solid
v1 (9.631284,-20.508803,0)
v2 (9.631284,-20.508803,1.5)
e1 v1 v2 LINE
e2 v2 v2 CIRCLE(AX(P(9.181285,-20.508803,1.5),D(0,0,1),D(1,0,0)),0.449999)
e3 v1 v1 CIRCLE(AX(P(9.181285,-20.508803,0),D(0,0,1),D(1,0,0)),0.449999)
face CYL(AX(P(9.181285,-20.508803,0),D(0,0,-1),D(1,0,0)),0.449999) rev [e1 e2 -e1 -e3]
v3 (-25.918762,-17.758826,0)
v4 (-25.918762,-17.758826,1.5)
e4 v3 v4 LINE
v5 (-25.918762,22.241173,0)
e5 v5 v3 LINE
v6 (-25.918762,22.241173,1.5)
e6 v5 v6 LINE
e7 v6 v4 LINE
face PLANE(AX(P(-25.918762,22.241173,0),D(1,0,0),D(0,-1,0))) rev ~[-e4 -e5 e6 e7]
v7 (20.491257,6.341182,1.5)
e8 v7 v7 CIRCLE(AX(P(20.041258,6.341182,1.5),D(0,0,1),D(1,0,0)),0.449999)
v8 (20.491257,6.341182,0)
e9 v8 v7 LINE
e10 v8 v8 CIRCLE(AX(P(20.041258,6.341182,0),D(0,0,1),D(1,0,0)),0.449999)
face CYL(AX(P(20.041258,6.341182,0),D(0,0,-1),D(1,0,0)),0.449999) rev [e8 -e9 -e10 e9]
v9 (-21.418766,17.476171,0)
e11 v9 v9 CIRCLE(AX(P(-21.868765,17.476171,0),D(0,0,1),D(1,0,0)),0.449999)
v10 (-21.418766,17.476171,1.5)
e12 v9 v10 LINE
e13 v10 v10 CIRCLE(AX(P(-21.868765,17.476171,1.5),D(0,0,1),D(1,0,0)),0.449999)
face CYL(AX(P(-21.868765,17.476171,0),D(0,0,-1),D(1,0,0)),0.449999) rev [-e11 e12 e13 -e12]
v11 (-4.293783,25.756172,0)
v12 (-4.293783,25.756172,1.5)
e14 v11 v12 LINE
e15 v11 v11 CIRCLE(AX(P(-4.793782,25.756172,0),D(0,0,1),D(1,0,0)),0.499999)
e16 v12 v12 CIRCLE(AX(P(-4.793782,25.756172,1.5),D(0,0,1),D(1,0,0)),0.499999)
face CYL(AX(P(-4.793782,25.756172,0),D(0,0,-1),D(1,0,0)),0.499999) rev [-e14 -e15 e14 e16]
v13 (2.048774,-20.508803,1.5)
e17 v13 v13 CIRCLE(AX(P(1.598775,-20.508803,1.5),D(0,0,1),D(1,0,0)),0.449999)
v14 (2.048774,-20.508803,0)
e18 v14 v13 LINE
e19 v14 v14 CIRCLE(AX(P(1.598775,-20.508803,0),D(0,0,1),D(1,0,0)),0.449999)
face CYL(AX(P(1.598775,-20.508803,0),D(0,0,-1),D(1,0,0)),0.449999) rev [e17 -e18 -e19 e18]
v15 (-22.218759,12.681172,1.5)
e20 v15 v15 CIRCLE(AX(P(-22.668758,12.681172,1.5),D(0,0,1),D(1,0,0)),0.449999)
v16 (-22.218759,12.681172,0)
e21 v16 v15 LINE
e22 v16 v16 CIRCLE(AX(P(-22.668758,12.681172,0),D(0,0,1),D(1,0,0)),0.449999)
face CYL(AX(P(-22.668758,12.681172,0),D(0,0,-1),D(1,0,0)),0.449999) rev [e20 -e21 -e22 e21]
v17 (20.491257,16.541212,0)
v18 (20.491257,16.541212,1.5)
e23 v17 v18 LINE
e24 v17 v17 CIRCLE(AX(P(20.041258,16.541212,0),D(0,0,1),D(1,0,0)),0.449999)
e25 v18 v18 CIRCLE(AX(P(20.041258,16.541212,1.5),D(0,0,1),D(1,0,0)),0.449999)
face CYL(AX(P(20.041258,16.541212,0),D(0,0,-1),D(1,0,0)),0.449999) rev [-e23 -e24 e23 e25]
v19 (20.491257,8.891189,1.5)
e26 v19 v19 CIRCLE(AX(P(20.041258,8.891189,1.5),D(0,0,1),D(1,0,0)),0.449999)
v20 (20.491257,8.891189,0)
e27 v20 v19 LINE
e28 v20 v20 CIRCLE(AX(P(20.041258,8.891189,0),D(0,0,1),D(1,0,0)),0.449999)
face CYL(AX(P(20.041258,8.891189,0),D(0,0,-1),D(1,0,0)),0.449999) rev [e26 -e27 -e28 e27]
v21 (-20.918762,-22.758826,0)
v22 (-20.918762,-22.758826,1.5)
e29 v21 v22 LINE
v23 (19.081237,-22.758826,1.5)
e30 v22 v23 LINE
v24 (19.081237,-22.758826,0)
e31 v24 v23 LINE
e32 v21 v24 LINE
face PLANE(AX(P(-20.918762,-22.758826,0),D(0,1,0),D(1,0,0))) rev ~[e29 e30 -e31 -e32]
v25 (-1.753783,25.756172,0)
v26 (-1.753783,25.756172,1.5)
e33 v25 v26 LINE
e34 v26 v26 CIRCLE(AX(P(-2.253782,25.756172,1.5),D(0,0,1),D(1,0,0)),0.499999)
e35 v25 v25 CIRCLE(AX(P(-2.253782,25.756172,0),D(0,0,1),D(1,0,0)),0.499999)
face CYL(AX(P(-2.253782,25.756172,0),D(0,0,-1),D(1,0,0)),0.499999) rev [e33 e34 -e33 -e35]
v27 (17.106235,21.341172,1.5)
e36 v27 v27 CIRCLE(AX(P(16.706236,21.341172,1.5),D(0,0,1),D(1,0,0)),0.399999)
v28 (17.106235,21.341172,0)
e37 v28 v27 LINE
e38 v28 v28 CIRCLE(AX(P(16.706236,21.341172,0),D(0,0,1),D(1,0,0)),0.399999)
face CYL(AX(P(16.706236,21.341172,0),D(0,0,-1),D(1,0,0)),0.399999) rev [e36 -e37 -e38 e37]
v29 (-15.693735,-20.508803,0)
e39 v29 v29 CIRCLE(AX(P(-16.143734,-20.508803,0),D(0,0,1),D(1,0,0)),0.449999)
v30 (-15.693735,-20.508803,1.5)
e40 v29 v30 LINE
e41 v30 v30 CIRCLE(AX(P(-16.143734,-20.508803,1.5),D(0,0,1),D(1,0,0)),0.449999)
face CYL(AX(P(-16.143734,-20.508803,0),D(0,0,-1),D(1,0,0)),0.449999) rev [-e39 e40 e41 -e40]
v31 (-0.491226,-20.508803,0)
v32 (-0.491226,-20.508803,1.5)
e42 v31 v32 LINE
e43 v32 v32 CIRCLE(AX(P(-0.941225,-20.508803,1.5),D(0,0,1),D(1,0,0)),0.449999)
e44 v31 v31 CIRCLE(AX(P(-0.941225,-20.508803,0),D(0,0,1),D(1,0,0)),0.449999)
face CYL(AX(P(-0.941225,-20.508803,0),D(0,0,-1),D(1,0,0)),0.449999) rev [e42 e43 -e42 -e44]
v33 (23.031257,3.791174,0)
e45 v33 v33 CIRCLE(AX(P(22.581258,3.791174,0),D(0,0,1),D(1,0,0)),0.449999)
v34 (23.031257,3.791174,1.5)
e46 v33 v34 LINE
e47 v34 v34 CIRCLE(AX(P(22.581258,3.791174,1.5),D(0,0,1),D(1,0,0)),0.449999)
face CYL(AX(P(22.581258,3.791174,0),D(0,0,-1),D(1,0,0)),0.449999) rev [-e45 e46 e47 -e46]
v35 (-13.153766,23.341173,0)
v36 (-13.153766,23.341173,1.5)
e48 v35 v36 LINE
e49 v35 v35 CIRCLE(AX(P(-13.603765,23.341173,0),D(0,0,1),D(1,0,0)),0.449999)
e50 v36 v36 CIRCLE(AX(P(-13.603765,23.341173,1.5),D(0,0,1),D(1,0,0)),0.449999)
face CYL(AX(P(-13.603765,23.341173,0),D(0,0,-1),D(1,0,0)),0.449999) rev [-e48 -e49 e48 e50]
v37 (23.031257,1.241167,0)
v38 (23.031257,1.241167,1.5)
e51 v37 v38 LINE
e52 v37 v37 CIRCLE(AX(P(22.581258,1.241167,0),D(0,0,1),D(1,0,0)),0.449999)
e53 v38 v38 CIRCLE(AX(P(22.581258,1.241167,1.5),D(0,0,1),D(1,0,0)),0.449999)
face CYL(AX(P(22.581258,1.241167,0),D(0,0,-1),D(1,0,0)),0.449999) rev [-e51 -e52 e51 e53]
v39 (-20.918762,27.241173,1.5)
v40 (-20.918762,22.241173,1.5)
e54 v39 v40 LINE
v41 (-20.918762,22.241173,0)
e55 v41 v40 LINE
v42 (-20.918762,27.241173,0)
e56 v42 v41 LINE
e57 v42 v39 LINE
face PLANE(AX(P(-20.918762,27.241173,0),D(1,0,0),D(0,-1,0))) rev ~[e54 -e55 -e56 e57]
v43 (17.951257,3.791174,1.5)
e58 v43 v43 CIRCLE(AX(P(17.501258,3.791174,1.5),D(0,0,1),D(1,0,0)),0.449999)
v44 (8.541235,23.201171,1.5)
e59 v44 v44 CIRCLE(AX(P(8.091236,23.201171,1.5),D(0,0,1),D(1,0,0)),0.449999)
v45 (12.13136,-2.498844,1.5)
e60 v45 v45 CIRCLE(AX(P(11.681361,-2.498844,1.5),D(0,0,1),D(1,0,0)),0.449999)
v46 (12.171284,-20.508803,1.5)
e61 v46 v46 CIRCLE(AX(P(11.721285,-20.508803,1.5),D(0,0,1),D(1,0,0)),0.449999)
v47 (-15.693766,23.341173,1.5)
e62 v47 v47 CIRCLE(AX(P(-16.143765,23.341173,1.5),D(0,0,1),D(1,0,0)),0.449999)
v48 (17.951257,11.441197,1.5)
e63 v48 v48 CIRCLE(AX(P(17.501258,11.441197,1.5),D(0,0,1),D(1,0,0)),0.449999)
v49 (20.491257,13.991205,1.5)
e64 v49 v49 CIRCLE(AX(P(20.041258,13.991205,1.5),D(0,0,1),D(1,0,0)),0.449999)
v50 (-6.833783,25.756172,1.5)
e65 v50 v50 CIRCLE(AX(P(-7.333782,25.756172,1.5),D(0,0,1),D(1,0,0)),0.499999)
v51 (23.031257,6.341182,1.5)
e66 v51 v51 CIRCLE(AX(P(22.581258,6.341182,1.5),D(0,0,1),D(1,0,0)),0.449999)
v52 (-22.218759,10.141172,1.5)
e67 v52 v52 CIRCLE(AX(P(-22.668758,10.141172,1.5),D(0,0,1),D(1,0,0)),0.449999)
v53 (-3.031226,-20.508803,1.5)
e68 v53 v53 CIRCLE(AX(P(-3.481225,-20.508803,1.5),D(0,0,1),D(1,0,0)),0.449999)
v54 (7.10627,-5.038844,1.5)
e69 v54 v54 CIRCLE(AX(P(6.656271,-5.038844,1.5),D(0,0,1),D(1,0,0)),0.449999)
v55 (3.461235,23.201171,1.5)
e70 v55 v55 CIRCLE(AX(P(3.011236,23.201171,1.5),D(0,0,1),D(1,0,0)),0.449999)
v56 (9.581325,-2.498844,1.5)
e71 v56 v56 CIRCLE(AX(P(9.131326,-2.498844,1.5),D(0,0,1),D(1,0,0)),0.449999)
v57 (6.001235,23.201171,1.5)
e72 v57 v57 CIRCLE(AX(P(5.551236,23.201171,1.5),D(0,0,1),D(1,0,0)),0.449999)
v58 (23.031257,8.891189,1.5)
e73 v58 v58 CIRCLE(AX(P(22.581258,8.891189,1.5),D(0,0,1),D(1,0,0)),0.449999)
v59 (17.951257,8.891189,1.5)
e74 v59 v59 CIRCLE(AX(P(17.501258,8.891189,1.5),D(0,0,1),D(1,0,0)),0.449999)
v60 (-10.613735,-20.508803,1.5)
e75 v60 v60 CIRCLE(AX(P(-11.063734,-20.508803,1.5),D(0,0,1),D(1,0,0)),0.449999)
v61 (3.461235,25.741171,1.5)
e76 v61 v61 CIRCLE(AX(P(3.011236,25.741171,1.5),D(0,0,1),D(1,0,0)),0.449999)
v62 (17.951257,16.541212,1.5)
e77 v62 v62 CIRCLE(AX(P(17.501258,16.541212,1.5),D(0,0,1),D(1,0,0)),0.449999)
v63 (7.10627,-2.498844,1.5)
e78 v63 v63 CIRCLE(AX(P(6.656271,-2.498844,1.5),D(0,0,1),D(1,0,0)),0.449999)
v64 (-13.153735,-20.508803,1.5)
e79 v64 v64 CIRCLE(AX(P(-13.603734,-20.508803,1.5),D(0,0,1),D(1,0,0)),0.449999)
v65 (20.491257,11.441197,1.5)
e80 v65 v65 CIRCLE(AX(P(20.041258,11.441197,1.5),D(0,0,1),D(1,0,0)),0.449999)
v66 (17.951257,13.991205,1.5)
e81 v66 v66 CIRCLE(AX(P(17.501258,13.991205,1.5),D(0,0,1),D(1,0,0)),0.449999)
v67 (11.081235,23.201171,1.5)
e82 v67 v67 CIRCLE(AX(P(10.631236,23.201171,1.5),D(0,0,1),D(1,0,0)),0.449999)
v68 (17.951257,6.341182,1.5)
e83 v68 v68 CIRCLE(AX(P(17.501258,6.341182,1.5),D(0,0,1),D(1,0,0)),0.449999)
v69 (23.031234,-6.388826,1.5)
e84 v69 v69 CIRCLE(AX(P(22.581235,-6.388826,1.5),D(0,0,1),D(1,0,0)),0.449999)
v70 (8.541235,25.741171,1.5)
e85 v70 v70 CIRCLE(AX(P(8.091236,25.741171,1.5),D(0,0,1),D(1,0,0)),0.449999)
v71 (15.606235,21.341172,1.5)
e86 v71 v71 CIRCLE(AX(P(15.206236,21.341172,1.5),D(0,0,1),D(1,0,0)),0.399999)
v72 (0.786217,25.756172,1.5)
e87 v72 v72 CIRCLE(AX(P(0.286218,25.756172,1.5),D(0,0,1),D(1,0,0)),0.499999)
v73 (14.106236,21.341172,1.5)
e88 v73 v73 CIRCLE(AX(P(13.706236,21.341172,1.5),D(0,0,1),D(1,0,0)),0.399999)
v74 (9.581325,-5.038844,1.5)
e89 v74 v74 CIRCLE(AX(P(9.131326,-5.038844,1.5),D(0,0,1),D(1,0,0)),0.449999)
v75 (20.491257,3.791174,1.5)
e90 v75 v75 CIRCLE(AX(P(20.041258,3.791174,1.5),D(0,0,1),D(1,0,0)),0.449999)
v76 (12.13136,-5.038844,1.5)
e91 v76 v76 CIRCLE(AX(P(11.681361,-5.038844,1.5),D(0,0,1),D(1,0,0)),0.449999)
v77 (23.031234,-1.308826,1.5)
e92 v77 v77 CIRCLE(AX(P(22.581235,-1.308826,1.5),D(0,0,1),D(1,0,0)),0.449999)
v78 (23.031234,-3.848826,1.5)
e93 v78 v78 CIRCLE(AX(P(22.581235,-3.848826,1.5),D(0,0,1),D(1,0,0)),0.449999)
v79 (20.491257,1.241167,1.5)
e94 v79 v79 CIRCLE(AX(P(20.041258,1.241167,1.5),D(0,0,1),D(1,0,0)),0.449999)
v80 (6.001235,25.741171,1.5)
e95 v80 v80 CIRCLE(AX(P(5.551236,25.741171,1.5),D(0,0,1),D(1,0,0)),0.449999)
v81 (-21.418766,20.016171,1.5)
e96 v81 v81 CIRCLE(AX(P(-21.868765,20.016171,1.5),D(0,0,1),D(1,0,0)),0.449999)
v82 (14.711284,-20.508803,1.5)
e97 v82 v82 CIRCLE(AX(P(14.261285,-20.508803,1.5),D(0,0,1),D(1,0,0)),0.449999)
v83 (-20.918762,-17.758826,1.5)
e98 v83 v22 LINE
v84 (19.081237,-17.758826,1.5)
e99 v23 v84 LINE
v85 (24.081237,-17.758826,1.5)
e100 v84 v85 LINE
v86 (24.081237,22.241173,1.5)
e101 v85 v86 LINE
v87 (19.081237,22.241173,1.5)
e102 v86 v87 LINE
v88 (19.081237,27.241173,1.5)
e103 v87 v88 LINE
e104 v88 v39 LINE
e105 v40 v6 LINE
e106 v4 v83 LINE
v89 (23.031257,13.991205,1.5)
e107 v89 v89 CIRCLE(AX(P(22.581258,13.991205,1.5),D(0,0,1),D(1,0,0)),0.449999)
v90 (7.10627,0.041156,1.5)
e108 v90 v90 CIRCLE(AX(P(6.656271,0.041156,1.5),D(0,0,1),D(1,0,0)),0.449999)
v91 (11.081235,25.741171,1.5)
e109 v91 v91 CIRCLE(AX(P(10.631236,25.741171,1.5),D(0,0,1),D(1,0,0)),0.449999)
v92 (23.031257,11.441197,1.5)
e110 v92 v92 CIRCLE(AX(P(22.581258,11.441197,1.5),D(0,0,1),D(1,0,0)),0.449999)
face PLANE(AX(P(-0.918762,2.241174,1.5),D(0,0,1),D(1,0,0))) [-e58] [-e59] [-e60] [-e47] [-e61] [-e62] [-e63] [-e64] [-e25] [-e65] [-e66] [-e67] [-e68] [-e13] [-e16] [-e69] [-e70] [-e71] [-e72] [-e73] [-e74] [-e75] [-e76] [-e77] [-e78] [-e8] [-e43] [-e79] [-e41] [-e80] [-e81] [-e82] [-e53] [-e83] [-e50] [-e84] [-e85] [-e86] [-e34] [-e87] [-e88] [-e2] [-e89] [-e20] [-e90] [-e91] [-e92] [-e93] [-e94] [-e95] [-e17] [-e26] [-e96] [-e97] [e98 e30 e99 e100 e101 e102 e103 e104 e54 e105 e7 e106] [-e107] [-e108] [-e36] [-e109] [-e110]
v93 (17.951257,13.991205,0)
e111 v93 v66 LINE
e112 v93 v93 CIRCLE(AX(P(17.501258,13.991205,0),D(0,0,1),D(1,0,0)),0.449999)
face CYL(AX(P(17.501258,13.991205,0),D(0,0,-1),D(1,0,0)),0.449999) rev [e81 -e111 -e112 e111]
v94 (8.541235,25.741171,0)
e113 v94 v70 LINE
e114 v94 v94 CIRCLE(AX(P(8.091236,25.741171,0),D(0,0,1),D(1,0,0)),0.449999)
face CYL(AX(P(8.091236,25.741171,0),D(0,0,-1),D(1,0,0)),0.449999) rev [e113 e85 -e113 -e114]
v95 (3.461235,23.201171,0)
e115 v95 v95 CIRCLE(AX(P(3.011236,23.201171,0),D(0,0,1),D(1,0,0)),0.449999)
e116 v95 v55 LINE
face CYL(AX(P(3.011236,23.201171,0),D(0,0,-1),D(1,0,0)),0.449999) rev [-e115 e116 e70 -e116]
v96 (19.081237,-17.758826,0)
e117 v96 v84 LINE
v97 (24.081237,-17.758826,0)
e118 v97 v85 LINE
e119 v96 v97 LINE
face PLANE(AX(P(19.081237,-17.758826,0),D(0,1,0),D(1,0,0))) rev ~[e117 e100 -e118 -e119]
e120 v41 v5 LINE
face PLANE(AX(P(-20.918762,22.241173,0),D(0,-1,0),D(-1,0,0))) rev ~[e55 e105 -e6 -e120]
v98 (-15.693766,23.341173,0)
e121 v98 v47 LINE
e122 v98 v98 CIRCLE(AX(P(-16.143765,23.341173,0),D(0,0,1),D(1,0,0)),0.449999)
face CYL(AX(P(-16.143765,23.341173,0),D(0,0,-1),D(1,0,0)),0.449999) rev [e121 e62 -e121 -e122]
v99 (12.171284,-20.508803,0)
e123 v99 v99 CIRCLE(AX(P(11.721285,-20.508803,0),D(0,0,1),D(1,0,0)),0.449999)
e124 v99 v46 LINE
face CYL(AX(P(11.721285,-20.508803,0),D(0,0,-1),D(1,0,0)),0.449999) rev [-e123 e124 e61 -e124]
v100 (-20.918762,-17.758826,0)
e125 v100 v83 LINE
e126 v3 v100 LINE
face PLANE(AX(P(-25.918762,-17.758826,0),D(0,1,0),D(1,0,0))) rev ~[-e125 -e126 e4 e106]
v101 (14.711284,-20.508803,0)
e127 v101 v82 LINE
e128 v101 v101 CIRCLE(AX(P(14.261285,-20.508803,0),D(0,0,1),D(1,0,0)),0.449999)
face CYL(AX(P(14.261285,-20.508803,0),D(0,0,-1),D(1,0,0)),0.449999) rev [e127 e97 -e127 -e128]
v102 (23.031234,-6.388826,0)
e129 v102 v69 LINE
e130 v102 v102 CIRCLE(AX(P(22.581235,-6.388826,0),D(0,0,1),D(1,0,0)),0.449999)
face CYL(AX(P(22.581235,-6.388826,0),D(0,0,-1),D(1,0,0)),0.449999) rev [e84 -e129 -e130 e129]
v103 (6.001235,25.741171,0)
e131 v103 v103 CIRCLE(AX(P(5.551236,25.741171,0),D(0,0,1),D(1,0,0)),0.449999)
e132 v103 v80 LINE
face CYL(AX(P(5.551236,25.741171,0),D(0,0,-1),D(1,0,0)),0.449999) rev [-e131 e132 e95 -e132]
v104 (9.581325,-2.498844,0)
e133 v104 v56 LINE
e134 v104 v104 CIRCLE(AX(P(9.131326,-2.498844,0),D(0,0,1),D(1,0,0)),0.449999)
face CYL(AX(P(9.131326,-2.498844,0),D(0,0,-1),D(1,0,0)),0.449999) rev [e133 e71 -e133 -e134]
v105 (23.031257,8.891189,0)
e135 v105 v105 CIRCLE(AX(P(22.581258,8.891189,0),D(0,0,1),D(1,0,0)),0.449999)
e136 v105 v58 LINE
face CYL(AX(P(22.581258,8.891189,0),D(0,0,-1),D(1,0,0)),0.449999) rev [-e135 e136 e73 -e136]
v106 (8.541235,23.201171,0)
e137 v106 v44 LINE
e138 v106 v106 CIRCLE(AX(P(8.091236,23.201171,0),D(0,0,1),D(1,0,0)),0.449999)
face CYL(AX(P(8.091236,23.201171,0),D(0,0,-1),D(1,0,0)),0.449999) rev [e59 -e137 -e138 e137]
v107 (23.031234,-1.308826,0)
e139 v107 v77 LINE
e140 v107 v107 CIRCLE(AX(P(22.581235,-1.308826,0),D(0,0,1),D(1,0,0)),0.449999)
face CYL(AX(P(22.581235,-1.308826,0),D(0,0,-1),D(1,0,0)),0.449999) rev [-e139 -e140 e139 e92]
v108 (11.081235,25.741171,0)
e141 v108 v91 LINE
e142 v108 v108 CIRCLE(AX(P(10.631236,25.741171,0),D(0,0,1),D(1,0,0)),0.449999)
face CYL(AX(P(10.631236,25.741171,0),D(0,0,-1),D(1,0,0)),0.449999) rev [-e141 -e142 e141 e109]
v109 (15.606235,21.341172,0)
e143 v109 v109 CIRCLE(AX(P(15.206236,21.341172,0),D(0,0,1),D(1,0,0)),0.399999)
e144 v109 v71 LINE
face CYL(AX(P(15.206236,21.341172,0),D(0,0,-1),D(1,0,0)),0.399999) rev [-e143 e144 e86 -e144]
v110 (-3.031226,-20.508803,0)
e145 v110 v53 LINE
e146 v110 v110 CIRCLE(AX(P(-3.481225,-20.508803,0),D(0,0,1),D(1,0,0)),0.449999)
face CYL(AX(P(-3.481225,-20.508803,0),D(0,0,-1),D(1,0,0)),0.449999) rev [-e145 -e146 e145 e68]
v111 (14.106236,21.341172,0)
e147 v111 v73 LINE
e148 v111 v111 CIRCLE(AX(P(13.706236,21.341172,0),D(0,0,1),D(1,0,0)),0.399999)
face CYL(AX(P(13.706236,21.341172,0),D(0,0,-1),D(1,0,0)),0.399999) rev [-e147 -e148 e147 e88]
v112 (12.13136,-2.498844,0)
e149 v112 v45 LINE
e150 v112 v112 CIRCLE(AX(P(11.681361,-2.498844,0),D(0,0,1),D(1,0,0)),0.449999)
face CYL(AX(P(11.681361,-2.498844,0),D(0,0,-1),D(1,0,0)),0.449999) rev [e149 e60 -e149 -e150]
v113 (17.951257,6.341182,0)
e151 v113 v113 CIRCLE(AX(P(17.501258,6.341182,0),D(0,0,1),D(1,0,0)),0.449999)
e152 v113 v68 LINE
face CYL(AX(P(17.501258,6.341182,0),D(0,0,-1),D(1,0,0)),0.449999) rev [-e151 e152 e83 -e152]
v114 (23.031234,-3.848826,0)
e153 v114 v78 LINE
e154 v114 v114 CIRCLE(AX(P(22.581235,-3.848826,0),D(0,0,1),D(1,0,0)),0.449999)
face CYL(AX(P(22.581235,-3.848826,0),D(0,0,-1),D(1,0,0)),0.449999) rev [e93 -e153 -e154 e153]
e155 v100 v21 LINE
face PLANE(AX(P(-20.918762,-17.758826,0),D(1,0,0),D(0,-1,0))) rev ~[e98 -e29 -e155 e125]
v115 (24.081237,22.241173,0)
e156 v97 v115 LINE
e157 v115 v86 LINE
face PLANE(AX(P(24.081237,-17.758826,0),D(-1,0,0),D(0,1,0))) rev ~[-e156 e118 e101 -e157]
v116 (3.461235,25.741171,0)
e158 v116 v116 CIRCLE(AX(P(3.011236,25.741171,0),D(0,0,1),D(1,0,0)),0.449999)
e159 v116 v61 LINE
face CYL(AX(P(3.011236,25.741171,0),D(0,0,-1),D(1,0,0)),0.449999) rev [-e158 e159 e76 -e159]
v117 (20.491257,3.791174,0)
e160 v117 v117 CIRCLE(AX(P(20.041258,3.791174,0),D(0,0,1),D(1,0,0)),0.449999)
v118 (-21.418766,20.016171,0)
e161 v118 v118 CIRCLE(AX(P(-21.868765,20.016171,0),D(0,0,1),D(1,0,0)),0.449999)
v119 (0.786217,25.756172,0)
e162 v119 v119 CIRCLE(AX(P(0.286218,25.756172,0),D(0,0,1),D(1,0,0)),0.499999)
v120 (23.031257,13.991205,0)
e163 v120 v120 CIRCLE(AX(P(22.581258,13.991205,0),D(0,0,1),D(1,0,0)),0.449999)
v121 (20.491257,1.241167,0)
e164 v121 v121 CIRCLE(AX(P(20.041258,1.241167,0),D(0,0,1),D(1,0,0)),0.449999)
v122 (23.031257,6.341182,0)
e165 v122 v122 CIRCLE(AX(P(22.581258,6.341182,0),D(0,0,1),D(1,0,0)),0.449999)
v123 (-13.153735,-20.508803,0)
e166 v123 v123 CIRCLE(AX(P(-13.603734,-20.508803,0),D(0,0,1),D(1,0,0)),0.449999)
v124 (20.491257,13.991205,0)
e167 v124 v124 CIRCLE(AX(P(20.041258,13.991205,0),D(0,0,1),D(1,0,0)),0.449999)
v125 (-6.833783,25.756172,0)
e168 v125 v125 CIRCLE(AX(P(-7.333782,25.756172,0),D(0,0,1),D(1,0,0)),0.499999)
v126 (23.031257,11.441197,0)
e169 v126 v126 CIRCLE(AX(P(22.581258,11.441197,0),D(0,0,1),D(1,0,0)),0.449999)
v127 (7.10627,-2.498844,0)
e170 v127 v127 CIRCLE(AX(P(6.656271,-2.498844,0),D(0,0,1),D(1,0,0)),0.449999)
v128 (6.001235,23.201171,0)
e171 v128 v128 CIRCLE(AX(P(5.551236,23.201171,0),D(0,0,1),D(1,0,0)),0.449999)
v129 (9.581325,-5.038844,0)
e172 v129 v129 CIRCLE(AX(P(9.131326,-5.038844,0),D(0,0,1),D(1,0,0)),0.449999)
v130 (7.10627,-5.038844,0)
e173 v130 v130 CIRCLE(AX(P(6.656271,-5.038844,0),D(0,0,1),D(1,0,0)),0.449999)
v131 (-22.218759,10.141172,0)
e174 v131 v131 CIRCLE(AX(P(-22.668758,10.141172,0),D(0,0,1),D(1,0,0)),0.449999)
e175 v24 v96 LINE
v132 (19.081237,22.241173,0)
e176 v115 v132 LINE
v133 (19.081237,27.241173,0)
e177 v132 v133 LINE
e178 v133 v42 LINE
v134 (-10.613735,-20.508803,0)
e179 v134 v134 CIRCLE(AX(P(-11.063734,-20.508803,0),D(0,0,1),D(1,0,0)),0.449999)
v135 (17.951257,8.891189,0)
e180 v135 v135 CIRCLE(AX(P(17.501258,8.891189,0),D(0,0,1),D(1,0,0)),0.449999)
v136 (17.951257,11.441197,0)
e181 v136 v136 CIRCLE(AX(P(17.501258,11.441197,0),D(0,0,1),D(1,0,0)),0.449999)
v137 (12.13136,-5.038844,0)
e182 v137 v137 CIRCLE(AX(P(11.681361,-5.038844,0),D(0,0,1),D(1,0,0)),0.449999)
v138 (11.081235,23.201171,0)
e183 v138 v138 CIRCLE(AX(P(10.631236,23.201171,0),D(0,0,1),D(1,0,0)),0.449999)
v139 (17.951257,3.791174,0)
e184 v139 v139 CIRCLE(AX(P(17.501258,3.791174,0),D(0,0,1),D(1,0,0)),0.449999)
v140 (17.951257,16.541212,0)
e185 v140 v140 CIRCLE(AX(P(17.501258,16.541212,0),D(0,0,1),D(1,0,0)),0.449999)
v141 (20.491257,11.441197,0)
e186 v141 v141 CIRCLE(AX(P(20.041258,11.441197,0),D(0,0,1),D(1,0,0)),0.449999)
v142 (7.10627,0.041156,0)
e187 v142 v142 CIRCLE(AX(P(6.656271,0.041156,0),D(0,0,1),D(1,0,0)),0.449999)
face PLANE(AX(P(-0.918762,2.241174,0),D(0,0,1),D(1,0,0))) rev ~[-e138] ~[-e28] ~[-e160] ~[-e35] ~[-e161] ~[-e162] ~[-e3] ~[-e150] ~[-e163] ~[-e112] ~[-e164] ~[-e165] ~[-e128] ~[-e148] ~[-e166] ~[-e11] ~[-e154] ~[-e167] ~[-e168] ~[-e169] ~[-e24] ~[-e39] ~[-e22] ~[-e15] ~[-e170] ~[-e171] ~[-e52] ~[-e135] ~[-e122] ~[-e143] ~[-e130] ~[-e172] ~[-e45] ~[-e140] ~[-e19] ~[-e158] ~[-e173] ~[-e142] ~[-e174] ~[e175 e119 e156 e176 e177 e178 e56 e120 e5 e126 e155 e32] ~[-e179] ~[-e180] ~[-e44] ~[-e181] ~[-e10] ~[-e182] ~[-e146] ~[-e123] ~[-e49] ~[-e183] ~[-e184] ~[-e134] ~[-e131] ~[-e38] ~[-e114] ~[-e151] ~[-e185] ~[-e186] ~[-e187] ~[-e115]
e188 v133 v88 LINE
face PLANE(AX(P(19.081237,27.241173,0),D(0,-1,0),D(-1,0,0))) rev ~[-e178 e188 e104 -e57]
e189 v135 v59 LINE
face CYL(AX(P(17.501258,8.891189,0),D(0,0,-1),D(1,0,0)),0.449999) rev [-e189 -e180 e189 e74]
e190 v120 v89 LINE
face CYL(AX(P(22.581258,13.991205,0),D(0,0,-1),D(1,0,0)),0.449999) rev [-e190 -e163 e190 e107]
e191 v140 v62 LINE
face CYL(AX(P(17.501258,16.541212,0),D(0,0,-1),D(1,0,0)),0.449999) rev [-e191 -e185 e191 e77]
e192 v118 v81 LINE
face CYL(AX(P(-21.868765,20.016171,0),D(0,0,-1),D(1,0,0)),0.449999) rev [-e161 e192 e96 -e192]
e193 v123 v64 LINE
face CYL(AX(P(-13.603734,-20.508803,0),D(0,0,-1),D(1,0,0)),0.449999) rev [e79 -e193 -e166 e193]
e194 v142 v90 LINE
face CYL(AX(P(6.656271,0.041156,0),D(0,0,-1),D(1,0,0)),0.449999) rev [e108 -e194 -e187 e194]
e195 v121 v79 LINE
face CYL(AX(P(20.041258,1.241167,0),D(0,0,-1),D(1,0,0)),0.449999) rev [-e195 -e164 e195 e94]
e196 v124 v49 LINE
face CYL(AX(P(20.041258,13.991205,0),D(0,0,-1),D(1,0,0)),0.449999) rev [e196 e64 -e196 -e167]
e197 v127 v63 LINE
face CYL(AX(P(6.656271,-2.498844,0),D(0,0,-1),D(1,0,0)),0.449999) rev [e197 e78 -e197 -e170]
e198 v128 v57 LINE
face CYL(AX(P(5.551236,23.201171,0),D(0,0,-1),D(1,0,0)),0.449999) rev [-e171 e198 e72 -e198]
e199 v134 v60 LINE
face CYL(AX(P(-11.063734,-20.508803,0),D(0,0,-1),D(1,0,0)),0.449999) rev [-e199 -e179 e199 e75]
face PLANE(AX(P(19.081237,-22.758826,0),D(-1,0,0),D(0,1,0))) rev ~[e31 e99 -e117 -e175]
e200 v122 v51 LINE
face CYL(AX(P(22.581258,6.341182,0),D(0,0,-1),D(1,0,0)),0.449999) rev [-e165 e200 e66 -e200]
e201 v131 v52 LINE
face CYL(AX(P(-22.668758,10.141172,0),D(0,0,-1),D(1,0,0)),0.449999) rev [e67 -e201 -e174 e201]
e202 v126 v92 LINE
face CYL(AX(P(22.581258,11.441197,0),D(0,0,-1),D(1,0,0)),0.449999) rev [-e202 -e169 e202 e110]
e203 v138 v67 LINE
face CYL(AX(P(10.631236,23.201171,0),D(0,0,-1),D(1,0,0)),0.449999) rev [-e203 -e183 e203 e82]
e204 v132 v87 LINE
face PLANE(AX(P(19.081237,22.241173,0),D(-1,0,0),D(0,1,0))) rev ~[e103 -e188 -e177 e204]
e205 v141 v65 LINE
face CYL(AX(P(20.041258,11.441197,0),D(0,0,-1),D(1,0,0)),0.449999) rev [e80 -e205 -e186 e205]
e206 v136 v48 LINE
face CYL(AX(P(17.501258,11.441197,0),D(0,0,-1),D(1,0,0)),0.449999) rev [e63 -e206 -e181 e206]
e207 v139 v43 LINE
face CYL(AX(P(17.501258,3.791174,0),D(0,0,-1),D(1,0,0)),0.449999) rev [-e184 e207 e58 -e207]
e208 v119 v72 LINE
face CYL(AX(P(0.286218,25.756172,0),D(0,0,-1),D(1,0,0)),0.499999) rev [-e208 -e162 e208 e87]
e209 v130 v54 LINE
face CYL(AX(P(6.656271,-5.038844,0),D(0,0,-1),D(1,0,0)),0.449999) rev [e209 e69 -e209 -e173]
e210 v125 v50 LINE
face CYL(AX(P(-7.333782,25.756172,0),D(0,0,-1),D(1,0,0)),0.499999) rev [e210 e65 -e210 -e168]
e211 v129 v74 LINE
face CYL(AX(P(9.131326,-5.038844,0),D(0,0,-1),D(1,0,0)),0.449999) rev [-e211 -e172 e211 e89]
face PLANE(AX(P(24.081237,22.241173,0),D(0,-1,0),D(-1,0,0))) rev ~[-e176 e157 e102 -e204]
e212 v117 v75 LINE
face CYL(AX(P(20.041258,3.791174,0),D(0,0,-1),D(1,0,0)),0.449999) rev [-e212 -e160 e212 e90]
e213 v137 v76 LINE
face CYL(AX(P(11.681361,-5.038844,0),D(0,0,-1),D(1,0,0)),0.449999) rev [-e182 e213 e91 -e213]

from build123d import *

# Parameters (mm, degrees)
SKETCH_3_R      = 0.4499991
SKETCH_3_R_2    = 0.3999992
SKETCH_3_R_3    = 0.499999
EXTRUDE_1_DEPTH = 1.5


with BuildPart() as part:
    # Эскиз3 → Бобышка-Вытянуть1 (new body)
    with BuildSketch(Plane.XY):
        Polygon((24.081237265, -17.758826004), (24.081237265, 22.241173056), (19.081237265, 22.241173056), (19.081237265, 27.241173056), (-20.918761795, 27.241173056), (-20.918761795, 22.241173056), (-25.918761795, 22.241173056), (-25.918761795, -17.758826004), (-20.918761795, -17.758826004), (-20.918761795, -22.758826004), (19.081237265, -22.758826004), (19.081237265, -17.758826004), align=None)
        with Locations((22.581258045, 1.241166636)):
            Circle(SKETCH_3_R, mode=Mode.SUBTRACT)
        with Locations((22.581258045, 3.791174236)):
            Circle(SKETCH_3_R, mode=Mode.SUBTRACT)
        with Locations((22.581258045, 6.341181836)):
            Circle(SKETCH_3_R, mode=Mode.SUBTRACT)
        with Locations((22.581258045, 8.891189436)):
            Circle(SKETCH_3_R, mode=Mode.SUBTRACT)
        with Locations((22.581258045, 11.441197036)):
            Circle(SKETCH_3_R, mode=Mode.SUBTRACT)
        with Locations((22.581258045, 13.991204636)):
            Circle(SKETCH_3_R, mode=Mode.SUBTRACT)
        with Locations((17.501258045, 3.791174236)):
            Circle(SKETCH_3_R, mode=Mode.SUBTRACT)
        with Locations((17.501258045, 6.341181836)):
            Circle(SKETCH_3_R, mode=Mode.SUBTRACT)
        with Locations((17.501258045, 8.891189436)):
            Circle(SKETCH_3_R, mode=Mode.SUBTRACT)
        with Locations((17.501258045, 11.441197036)):
            Circle(SKETCH_3_R, mode=Mode.SUBTRACT)
        with Locations((17.501258045, 13.991204636)):
            Circle(SKETCH_3_R, mode=Mode.SUBTRACT)
        with Locations((17.501258045, 16.541212236)):
            Circle(SKETCH_3_R, mode=Mode.SUBTRACT)
        with Locations((20.041258045, 16.541212236)):
            Circle(SKETCH_3_R, mode=Mode.SUBTRACT)
        with Locations((20.041258045, 13.991204636)):
            Circle(SKETCH_3_R, mode=Mode.SUBTRACT)
        with Locations((20.041258045, 11.441197036)):
            Circle(SKETCH_3_R, mode=Mode.SUBTRACT)
        with Locations((20.041258045, 8.891189436)):
            Circle(SKETCH_3_R, mode=Mode.SUBTRACT)
        with Locations((20.041258045, 6.341181836)):
            Circle(SKETCH_3_R, mode=Mode.SUBTRACT)
        with Locations((20.041258045, 3.791174236)):
            Circle(SKETCH_3_R, mode=Mode.SUBTRACT)
        with Locations((20.041258045, 1.241166636)):
            Circle(SKETCH_3_R, mode=Mode.SUBTRACT)
        with Locations((22.581235185, -6.388825724)):
            Circle(SKETCH_3_R, mode=Mode.SUBTRACT)
        with Locations((22.581235185, -3.848825724)):
            Circle(SKETCH_3_R, mode=Mode.SUBTRACT)
        with Locations((22.581235185, -1.308825724)):
            Circle(SKETCH_3_R, mode=Mode.SUBTRACT)
        with Locations((3.011236225, 25.741170976)):
            Circle(SKETCH_3_R, mode=Mode.SUBTRACT)
        with Locations((5.551236225, 23.201170976)):
            Circle(SKETCH_3_R, mode=Mode.SUBTRACT)
        with Locations((5.551236225, 25.741170976)):
            Circle(SKETCH_3_R, mode=Mode.SUBTRACT)
        with Locations((8.091236225, 23.201170976)):
            Circle(SKETCH_3_R, mode=Mode.SUBTRACT)
        with Locations((8.091236225, 25.741170976)):
            Circle(SKETCH_3_R, mode=Mode.SUBTRACT)
        with Locations((10.631236225, 25.741170976)):
            Circle(SKETCH_3_R, mode=Mode.SUBTRACT)
        with Locations((10.631236225, 23.201170976)):
            Circle(SKETCH_3_R, mode=Mode.SUBTRACT)
        with Locations((13.706236425, 21.341172156)):
            Circle(SKETCH_3_R_2, mode=Mode.SUBTRACT)
        with Locations((15.206235965, 21.341172156)):
            Circle(SKETCH_3_R_2, mode=Mode.SUBTRACT)
        with Locations((16.706235505, 21.341172156)):
            Circle(SKETCH_3_R_2, mode=Mode.SUBTRACT)
        with Locations((6.656270845, 0.041156336)):
            Circle(SKETCH_3_R, mode=Mode.SUBTRACT)
        with Locations((6.656270845, -5.038843664)):
            Circle(SKETCH_3_R, mode=Mode.SUBTRACT)
        with Locations((6.656270845, -2.498843664)):
            Circle(SKETCH_3_R, mode=Mode.SUBTRACT)
        with Locations((9.131325585, -2.498843664)):
            Circle(SKETCH_3_R, mode=Mode.SUBTRACT)
        with Locations((9.131325585, -5.038843664)):
            Circle(SKETCH_3_R, mode=Mode.SUBTRACT)
        with Locations((11.681361125, -2.498843664)):
            Circle(SKETCH_3_R, mode=Mode.SUBTRACT)
        with Locations((14.261284845, -20.508802564)):
            Circle(SKETCH_3_R, mode=Mode.SUBTRACT)
        with Locations((11.721284845, -20.508802564)):
            Circle(SKETCH_3_R, mode=Mode.SUBTRACT)
        with Locations((9.181284845, -20.508802564)):
            Circle(SKETCH_3_R, mode=Mode.SUBTRACT)
        with Locations((1.598775245, -20.508802564)):
            Circle(SKETCH_3_R, mode=Mode.SUBTRACT)
        with Locations((-0.941224755, -20.508802564)):
            Circle(SKETCH_3_R, mode=Mode.SUBTRACT)
        with Locations((-3.481224755, -20.508802564)):
            Circle(SKETCH_3_R, mode=Mode.SUBTRACT)
        with Locations((-11.063734355, -20.508802564)):
            Circle(SKETCH_3_R, mode=Mode.SUBTRACT)
        with Locations((-13.603734355, -20.508802564)):
            Circle(SKETCH_3_R, mode=Mode.SUBTRACT)
        with Locations((-16.143734355, -20.508802564)):
            Circle(SKETCH_3_R, mode=Mode.SUBTRACT)
        with Locations((-22.668758135, 10.141171696)):
            Circle(SKETCH_3_R, mode=Mode.SUBTRACT)
        with Locations((-22.668758135, 12.681171696)):
            Circle(SKETCH_3_R, mode=Mode.SUBTRACT)
        with Locations((-7.333782455, 25.756172216)):
            Circle(SKETCH_3_R_3, mode=Mode.SUBTRACT)
        with Locations((-4.793782455, 25.756172216)):
            Circle(SKETCH_3_R_3, mode=Mode.SUBTRACT)
        with Locations((-2.253782455, 25.756172216)):
            Circle(SKETCH_3_R_3, mode=Mode.SUBTRACT)
        with Locations((0.286217545, 25.756172216)):
            Circle(SKETCH_3_R_3, mode=Mode.SUBTRACT)
        with Locations((3.011236225, 23.201170976)):
            Circle(SKETCH_3_R, mode=Mode.SUBTRACT)
        with Locations((11.681361125, -5.038843664)):
            Circle(SKETCH_3_R, mode=Mode.SUBTRACT)
        with Locations((-21.868764815, 17.476170996)):
            Circle(SKETCH_3_R, mode=Mode.SUBTRACT)
        with Locations((-21.868764815, 20.016170996)):
            Circle(SKETCH_3_R, mode=Mode.SUBTRACT)
        with Locations((-16.143764835, 23.341173236)):
            Circle(SKETCH_3_R, mode=Mode.SUBTRACT)
        with Locations((-13.603764835, 23.341173236)):
            Circle(SKETCH_3_R, mode=Mode.SUBTRACT)
    extrude(amount=EXTRUDE_1_DEPTH)


solid = part.part
